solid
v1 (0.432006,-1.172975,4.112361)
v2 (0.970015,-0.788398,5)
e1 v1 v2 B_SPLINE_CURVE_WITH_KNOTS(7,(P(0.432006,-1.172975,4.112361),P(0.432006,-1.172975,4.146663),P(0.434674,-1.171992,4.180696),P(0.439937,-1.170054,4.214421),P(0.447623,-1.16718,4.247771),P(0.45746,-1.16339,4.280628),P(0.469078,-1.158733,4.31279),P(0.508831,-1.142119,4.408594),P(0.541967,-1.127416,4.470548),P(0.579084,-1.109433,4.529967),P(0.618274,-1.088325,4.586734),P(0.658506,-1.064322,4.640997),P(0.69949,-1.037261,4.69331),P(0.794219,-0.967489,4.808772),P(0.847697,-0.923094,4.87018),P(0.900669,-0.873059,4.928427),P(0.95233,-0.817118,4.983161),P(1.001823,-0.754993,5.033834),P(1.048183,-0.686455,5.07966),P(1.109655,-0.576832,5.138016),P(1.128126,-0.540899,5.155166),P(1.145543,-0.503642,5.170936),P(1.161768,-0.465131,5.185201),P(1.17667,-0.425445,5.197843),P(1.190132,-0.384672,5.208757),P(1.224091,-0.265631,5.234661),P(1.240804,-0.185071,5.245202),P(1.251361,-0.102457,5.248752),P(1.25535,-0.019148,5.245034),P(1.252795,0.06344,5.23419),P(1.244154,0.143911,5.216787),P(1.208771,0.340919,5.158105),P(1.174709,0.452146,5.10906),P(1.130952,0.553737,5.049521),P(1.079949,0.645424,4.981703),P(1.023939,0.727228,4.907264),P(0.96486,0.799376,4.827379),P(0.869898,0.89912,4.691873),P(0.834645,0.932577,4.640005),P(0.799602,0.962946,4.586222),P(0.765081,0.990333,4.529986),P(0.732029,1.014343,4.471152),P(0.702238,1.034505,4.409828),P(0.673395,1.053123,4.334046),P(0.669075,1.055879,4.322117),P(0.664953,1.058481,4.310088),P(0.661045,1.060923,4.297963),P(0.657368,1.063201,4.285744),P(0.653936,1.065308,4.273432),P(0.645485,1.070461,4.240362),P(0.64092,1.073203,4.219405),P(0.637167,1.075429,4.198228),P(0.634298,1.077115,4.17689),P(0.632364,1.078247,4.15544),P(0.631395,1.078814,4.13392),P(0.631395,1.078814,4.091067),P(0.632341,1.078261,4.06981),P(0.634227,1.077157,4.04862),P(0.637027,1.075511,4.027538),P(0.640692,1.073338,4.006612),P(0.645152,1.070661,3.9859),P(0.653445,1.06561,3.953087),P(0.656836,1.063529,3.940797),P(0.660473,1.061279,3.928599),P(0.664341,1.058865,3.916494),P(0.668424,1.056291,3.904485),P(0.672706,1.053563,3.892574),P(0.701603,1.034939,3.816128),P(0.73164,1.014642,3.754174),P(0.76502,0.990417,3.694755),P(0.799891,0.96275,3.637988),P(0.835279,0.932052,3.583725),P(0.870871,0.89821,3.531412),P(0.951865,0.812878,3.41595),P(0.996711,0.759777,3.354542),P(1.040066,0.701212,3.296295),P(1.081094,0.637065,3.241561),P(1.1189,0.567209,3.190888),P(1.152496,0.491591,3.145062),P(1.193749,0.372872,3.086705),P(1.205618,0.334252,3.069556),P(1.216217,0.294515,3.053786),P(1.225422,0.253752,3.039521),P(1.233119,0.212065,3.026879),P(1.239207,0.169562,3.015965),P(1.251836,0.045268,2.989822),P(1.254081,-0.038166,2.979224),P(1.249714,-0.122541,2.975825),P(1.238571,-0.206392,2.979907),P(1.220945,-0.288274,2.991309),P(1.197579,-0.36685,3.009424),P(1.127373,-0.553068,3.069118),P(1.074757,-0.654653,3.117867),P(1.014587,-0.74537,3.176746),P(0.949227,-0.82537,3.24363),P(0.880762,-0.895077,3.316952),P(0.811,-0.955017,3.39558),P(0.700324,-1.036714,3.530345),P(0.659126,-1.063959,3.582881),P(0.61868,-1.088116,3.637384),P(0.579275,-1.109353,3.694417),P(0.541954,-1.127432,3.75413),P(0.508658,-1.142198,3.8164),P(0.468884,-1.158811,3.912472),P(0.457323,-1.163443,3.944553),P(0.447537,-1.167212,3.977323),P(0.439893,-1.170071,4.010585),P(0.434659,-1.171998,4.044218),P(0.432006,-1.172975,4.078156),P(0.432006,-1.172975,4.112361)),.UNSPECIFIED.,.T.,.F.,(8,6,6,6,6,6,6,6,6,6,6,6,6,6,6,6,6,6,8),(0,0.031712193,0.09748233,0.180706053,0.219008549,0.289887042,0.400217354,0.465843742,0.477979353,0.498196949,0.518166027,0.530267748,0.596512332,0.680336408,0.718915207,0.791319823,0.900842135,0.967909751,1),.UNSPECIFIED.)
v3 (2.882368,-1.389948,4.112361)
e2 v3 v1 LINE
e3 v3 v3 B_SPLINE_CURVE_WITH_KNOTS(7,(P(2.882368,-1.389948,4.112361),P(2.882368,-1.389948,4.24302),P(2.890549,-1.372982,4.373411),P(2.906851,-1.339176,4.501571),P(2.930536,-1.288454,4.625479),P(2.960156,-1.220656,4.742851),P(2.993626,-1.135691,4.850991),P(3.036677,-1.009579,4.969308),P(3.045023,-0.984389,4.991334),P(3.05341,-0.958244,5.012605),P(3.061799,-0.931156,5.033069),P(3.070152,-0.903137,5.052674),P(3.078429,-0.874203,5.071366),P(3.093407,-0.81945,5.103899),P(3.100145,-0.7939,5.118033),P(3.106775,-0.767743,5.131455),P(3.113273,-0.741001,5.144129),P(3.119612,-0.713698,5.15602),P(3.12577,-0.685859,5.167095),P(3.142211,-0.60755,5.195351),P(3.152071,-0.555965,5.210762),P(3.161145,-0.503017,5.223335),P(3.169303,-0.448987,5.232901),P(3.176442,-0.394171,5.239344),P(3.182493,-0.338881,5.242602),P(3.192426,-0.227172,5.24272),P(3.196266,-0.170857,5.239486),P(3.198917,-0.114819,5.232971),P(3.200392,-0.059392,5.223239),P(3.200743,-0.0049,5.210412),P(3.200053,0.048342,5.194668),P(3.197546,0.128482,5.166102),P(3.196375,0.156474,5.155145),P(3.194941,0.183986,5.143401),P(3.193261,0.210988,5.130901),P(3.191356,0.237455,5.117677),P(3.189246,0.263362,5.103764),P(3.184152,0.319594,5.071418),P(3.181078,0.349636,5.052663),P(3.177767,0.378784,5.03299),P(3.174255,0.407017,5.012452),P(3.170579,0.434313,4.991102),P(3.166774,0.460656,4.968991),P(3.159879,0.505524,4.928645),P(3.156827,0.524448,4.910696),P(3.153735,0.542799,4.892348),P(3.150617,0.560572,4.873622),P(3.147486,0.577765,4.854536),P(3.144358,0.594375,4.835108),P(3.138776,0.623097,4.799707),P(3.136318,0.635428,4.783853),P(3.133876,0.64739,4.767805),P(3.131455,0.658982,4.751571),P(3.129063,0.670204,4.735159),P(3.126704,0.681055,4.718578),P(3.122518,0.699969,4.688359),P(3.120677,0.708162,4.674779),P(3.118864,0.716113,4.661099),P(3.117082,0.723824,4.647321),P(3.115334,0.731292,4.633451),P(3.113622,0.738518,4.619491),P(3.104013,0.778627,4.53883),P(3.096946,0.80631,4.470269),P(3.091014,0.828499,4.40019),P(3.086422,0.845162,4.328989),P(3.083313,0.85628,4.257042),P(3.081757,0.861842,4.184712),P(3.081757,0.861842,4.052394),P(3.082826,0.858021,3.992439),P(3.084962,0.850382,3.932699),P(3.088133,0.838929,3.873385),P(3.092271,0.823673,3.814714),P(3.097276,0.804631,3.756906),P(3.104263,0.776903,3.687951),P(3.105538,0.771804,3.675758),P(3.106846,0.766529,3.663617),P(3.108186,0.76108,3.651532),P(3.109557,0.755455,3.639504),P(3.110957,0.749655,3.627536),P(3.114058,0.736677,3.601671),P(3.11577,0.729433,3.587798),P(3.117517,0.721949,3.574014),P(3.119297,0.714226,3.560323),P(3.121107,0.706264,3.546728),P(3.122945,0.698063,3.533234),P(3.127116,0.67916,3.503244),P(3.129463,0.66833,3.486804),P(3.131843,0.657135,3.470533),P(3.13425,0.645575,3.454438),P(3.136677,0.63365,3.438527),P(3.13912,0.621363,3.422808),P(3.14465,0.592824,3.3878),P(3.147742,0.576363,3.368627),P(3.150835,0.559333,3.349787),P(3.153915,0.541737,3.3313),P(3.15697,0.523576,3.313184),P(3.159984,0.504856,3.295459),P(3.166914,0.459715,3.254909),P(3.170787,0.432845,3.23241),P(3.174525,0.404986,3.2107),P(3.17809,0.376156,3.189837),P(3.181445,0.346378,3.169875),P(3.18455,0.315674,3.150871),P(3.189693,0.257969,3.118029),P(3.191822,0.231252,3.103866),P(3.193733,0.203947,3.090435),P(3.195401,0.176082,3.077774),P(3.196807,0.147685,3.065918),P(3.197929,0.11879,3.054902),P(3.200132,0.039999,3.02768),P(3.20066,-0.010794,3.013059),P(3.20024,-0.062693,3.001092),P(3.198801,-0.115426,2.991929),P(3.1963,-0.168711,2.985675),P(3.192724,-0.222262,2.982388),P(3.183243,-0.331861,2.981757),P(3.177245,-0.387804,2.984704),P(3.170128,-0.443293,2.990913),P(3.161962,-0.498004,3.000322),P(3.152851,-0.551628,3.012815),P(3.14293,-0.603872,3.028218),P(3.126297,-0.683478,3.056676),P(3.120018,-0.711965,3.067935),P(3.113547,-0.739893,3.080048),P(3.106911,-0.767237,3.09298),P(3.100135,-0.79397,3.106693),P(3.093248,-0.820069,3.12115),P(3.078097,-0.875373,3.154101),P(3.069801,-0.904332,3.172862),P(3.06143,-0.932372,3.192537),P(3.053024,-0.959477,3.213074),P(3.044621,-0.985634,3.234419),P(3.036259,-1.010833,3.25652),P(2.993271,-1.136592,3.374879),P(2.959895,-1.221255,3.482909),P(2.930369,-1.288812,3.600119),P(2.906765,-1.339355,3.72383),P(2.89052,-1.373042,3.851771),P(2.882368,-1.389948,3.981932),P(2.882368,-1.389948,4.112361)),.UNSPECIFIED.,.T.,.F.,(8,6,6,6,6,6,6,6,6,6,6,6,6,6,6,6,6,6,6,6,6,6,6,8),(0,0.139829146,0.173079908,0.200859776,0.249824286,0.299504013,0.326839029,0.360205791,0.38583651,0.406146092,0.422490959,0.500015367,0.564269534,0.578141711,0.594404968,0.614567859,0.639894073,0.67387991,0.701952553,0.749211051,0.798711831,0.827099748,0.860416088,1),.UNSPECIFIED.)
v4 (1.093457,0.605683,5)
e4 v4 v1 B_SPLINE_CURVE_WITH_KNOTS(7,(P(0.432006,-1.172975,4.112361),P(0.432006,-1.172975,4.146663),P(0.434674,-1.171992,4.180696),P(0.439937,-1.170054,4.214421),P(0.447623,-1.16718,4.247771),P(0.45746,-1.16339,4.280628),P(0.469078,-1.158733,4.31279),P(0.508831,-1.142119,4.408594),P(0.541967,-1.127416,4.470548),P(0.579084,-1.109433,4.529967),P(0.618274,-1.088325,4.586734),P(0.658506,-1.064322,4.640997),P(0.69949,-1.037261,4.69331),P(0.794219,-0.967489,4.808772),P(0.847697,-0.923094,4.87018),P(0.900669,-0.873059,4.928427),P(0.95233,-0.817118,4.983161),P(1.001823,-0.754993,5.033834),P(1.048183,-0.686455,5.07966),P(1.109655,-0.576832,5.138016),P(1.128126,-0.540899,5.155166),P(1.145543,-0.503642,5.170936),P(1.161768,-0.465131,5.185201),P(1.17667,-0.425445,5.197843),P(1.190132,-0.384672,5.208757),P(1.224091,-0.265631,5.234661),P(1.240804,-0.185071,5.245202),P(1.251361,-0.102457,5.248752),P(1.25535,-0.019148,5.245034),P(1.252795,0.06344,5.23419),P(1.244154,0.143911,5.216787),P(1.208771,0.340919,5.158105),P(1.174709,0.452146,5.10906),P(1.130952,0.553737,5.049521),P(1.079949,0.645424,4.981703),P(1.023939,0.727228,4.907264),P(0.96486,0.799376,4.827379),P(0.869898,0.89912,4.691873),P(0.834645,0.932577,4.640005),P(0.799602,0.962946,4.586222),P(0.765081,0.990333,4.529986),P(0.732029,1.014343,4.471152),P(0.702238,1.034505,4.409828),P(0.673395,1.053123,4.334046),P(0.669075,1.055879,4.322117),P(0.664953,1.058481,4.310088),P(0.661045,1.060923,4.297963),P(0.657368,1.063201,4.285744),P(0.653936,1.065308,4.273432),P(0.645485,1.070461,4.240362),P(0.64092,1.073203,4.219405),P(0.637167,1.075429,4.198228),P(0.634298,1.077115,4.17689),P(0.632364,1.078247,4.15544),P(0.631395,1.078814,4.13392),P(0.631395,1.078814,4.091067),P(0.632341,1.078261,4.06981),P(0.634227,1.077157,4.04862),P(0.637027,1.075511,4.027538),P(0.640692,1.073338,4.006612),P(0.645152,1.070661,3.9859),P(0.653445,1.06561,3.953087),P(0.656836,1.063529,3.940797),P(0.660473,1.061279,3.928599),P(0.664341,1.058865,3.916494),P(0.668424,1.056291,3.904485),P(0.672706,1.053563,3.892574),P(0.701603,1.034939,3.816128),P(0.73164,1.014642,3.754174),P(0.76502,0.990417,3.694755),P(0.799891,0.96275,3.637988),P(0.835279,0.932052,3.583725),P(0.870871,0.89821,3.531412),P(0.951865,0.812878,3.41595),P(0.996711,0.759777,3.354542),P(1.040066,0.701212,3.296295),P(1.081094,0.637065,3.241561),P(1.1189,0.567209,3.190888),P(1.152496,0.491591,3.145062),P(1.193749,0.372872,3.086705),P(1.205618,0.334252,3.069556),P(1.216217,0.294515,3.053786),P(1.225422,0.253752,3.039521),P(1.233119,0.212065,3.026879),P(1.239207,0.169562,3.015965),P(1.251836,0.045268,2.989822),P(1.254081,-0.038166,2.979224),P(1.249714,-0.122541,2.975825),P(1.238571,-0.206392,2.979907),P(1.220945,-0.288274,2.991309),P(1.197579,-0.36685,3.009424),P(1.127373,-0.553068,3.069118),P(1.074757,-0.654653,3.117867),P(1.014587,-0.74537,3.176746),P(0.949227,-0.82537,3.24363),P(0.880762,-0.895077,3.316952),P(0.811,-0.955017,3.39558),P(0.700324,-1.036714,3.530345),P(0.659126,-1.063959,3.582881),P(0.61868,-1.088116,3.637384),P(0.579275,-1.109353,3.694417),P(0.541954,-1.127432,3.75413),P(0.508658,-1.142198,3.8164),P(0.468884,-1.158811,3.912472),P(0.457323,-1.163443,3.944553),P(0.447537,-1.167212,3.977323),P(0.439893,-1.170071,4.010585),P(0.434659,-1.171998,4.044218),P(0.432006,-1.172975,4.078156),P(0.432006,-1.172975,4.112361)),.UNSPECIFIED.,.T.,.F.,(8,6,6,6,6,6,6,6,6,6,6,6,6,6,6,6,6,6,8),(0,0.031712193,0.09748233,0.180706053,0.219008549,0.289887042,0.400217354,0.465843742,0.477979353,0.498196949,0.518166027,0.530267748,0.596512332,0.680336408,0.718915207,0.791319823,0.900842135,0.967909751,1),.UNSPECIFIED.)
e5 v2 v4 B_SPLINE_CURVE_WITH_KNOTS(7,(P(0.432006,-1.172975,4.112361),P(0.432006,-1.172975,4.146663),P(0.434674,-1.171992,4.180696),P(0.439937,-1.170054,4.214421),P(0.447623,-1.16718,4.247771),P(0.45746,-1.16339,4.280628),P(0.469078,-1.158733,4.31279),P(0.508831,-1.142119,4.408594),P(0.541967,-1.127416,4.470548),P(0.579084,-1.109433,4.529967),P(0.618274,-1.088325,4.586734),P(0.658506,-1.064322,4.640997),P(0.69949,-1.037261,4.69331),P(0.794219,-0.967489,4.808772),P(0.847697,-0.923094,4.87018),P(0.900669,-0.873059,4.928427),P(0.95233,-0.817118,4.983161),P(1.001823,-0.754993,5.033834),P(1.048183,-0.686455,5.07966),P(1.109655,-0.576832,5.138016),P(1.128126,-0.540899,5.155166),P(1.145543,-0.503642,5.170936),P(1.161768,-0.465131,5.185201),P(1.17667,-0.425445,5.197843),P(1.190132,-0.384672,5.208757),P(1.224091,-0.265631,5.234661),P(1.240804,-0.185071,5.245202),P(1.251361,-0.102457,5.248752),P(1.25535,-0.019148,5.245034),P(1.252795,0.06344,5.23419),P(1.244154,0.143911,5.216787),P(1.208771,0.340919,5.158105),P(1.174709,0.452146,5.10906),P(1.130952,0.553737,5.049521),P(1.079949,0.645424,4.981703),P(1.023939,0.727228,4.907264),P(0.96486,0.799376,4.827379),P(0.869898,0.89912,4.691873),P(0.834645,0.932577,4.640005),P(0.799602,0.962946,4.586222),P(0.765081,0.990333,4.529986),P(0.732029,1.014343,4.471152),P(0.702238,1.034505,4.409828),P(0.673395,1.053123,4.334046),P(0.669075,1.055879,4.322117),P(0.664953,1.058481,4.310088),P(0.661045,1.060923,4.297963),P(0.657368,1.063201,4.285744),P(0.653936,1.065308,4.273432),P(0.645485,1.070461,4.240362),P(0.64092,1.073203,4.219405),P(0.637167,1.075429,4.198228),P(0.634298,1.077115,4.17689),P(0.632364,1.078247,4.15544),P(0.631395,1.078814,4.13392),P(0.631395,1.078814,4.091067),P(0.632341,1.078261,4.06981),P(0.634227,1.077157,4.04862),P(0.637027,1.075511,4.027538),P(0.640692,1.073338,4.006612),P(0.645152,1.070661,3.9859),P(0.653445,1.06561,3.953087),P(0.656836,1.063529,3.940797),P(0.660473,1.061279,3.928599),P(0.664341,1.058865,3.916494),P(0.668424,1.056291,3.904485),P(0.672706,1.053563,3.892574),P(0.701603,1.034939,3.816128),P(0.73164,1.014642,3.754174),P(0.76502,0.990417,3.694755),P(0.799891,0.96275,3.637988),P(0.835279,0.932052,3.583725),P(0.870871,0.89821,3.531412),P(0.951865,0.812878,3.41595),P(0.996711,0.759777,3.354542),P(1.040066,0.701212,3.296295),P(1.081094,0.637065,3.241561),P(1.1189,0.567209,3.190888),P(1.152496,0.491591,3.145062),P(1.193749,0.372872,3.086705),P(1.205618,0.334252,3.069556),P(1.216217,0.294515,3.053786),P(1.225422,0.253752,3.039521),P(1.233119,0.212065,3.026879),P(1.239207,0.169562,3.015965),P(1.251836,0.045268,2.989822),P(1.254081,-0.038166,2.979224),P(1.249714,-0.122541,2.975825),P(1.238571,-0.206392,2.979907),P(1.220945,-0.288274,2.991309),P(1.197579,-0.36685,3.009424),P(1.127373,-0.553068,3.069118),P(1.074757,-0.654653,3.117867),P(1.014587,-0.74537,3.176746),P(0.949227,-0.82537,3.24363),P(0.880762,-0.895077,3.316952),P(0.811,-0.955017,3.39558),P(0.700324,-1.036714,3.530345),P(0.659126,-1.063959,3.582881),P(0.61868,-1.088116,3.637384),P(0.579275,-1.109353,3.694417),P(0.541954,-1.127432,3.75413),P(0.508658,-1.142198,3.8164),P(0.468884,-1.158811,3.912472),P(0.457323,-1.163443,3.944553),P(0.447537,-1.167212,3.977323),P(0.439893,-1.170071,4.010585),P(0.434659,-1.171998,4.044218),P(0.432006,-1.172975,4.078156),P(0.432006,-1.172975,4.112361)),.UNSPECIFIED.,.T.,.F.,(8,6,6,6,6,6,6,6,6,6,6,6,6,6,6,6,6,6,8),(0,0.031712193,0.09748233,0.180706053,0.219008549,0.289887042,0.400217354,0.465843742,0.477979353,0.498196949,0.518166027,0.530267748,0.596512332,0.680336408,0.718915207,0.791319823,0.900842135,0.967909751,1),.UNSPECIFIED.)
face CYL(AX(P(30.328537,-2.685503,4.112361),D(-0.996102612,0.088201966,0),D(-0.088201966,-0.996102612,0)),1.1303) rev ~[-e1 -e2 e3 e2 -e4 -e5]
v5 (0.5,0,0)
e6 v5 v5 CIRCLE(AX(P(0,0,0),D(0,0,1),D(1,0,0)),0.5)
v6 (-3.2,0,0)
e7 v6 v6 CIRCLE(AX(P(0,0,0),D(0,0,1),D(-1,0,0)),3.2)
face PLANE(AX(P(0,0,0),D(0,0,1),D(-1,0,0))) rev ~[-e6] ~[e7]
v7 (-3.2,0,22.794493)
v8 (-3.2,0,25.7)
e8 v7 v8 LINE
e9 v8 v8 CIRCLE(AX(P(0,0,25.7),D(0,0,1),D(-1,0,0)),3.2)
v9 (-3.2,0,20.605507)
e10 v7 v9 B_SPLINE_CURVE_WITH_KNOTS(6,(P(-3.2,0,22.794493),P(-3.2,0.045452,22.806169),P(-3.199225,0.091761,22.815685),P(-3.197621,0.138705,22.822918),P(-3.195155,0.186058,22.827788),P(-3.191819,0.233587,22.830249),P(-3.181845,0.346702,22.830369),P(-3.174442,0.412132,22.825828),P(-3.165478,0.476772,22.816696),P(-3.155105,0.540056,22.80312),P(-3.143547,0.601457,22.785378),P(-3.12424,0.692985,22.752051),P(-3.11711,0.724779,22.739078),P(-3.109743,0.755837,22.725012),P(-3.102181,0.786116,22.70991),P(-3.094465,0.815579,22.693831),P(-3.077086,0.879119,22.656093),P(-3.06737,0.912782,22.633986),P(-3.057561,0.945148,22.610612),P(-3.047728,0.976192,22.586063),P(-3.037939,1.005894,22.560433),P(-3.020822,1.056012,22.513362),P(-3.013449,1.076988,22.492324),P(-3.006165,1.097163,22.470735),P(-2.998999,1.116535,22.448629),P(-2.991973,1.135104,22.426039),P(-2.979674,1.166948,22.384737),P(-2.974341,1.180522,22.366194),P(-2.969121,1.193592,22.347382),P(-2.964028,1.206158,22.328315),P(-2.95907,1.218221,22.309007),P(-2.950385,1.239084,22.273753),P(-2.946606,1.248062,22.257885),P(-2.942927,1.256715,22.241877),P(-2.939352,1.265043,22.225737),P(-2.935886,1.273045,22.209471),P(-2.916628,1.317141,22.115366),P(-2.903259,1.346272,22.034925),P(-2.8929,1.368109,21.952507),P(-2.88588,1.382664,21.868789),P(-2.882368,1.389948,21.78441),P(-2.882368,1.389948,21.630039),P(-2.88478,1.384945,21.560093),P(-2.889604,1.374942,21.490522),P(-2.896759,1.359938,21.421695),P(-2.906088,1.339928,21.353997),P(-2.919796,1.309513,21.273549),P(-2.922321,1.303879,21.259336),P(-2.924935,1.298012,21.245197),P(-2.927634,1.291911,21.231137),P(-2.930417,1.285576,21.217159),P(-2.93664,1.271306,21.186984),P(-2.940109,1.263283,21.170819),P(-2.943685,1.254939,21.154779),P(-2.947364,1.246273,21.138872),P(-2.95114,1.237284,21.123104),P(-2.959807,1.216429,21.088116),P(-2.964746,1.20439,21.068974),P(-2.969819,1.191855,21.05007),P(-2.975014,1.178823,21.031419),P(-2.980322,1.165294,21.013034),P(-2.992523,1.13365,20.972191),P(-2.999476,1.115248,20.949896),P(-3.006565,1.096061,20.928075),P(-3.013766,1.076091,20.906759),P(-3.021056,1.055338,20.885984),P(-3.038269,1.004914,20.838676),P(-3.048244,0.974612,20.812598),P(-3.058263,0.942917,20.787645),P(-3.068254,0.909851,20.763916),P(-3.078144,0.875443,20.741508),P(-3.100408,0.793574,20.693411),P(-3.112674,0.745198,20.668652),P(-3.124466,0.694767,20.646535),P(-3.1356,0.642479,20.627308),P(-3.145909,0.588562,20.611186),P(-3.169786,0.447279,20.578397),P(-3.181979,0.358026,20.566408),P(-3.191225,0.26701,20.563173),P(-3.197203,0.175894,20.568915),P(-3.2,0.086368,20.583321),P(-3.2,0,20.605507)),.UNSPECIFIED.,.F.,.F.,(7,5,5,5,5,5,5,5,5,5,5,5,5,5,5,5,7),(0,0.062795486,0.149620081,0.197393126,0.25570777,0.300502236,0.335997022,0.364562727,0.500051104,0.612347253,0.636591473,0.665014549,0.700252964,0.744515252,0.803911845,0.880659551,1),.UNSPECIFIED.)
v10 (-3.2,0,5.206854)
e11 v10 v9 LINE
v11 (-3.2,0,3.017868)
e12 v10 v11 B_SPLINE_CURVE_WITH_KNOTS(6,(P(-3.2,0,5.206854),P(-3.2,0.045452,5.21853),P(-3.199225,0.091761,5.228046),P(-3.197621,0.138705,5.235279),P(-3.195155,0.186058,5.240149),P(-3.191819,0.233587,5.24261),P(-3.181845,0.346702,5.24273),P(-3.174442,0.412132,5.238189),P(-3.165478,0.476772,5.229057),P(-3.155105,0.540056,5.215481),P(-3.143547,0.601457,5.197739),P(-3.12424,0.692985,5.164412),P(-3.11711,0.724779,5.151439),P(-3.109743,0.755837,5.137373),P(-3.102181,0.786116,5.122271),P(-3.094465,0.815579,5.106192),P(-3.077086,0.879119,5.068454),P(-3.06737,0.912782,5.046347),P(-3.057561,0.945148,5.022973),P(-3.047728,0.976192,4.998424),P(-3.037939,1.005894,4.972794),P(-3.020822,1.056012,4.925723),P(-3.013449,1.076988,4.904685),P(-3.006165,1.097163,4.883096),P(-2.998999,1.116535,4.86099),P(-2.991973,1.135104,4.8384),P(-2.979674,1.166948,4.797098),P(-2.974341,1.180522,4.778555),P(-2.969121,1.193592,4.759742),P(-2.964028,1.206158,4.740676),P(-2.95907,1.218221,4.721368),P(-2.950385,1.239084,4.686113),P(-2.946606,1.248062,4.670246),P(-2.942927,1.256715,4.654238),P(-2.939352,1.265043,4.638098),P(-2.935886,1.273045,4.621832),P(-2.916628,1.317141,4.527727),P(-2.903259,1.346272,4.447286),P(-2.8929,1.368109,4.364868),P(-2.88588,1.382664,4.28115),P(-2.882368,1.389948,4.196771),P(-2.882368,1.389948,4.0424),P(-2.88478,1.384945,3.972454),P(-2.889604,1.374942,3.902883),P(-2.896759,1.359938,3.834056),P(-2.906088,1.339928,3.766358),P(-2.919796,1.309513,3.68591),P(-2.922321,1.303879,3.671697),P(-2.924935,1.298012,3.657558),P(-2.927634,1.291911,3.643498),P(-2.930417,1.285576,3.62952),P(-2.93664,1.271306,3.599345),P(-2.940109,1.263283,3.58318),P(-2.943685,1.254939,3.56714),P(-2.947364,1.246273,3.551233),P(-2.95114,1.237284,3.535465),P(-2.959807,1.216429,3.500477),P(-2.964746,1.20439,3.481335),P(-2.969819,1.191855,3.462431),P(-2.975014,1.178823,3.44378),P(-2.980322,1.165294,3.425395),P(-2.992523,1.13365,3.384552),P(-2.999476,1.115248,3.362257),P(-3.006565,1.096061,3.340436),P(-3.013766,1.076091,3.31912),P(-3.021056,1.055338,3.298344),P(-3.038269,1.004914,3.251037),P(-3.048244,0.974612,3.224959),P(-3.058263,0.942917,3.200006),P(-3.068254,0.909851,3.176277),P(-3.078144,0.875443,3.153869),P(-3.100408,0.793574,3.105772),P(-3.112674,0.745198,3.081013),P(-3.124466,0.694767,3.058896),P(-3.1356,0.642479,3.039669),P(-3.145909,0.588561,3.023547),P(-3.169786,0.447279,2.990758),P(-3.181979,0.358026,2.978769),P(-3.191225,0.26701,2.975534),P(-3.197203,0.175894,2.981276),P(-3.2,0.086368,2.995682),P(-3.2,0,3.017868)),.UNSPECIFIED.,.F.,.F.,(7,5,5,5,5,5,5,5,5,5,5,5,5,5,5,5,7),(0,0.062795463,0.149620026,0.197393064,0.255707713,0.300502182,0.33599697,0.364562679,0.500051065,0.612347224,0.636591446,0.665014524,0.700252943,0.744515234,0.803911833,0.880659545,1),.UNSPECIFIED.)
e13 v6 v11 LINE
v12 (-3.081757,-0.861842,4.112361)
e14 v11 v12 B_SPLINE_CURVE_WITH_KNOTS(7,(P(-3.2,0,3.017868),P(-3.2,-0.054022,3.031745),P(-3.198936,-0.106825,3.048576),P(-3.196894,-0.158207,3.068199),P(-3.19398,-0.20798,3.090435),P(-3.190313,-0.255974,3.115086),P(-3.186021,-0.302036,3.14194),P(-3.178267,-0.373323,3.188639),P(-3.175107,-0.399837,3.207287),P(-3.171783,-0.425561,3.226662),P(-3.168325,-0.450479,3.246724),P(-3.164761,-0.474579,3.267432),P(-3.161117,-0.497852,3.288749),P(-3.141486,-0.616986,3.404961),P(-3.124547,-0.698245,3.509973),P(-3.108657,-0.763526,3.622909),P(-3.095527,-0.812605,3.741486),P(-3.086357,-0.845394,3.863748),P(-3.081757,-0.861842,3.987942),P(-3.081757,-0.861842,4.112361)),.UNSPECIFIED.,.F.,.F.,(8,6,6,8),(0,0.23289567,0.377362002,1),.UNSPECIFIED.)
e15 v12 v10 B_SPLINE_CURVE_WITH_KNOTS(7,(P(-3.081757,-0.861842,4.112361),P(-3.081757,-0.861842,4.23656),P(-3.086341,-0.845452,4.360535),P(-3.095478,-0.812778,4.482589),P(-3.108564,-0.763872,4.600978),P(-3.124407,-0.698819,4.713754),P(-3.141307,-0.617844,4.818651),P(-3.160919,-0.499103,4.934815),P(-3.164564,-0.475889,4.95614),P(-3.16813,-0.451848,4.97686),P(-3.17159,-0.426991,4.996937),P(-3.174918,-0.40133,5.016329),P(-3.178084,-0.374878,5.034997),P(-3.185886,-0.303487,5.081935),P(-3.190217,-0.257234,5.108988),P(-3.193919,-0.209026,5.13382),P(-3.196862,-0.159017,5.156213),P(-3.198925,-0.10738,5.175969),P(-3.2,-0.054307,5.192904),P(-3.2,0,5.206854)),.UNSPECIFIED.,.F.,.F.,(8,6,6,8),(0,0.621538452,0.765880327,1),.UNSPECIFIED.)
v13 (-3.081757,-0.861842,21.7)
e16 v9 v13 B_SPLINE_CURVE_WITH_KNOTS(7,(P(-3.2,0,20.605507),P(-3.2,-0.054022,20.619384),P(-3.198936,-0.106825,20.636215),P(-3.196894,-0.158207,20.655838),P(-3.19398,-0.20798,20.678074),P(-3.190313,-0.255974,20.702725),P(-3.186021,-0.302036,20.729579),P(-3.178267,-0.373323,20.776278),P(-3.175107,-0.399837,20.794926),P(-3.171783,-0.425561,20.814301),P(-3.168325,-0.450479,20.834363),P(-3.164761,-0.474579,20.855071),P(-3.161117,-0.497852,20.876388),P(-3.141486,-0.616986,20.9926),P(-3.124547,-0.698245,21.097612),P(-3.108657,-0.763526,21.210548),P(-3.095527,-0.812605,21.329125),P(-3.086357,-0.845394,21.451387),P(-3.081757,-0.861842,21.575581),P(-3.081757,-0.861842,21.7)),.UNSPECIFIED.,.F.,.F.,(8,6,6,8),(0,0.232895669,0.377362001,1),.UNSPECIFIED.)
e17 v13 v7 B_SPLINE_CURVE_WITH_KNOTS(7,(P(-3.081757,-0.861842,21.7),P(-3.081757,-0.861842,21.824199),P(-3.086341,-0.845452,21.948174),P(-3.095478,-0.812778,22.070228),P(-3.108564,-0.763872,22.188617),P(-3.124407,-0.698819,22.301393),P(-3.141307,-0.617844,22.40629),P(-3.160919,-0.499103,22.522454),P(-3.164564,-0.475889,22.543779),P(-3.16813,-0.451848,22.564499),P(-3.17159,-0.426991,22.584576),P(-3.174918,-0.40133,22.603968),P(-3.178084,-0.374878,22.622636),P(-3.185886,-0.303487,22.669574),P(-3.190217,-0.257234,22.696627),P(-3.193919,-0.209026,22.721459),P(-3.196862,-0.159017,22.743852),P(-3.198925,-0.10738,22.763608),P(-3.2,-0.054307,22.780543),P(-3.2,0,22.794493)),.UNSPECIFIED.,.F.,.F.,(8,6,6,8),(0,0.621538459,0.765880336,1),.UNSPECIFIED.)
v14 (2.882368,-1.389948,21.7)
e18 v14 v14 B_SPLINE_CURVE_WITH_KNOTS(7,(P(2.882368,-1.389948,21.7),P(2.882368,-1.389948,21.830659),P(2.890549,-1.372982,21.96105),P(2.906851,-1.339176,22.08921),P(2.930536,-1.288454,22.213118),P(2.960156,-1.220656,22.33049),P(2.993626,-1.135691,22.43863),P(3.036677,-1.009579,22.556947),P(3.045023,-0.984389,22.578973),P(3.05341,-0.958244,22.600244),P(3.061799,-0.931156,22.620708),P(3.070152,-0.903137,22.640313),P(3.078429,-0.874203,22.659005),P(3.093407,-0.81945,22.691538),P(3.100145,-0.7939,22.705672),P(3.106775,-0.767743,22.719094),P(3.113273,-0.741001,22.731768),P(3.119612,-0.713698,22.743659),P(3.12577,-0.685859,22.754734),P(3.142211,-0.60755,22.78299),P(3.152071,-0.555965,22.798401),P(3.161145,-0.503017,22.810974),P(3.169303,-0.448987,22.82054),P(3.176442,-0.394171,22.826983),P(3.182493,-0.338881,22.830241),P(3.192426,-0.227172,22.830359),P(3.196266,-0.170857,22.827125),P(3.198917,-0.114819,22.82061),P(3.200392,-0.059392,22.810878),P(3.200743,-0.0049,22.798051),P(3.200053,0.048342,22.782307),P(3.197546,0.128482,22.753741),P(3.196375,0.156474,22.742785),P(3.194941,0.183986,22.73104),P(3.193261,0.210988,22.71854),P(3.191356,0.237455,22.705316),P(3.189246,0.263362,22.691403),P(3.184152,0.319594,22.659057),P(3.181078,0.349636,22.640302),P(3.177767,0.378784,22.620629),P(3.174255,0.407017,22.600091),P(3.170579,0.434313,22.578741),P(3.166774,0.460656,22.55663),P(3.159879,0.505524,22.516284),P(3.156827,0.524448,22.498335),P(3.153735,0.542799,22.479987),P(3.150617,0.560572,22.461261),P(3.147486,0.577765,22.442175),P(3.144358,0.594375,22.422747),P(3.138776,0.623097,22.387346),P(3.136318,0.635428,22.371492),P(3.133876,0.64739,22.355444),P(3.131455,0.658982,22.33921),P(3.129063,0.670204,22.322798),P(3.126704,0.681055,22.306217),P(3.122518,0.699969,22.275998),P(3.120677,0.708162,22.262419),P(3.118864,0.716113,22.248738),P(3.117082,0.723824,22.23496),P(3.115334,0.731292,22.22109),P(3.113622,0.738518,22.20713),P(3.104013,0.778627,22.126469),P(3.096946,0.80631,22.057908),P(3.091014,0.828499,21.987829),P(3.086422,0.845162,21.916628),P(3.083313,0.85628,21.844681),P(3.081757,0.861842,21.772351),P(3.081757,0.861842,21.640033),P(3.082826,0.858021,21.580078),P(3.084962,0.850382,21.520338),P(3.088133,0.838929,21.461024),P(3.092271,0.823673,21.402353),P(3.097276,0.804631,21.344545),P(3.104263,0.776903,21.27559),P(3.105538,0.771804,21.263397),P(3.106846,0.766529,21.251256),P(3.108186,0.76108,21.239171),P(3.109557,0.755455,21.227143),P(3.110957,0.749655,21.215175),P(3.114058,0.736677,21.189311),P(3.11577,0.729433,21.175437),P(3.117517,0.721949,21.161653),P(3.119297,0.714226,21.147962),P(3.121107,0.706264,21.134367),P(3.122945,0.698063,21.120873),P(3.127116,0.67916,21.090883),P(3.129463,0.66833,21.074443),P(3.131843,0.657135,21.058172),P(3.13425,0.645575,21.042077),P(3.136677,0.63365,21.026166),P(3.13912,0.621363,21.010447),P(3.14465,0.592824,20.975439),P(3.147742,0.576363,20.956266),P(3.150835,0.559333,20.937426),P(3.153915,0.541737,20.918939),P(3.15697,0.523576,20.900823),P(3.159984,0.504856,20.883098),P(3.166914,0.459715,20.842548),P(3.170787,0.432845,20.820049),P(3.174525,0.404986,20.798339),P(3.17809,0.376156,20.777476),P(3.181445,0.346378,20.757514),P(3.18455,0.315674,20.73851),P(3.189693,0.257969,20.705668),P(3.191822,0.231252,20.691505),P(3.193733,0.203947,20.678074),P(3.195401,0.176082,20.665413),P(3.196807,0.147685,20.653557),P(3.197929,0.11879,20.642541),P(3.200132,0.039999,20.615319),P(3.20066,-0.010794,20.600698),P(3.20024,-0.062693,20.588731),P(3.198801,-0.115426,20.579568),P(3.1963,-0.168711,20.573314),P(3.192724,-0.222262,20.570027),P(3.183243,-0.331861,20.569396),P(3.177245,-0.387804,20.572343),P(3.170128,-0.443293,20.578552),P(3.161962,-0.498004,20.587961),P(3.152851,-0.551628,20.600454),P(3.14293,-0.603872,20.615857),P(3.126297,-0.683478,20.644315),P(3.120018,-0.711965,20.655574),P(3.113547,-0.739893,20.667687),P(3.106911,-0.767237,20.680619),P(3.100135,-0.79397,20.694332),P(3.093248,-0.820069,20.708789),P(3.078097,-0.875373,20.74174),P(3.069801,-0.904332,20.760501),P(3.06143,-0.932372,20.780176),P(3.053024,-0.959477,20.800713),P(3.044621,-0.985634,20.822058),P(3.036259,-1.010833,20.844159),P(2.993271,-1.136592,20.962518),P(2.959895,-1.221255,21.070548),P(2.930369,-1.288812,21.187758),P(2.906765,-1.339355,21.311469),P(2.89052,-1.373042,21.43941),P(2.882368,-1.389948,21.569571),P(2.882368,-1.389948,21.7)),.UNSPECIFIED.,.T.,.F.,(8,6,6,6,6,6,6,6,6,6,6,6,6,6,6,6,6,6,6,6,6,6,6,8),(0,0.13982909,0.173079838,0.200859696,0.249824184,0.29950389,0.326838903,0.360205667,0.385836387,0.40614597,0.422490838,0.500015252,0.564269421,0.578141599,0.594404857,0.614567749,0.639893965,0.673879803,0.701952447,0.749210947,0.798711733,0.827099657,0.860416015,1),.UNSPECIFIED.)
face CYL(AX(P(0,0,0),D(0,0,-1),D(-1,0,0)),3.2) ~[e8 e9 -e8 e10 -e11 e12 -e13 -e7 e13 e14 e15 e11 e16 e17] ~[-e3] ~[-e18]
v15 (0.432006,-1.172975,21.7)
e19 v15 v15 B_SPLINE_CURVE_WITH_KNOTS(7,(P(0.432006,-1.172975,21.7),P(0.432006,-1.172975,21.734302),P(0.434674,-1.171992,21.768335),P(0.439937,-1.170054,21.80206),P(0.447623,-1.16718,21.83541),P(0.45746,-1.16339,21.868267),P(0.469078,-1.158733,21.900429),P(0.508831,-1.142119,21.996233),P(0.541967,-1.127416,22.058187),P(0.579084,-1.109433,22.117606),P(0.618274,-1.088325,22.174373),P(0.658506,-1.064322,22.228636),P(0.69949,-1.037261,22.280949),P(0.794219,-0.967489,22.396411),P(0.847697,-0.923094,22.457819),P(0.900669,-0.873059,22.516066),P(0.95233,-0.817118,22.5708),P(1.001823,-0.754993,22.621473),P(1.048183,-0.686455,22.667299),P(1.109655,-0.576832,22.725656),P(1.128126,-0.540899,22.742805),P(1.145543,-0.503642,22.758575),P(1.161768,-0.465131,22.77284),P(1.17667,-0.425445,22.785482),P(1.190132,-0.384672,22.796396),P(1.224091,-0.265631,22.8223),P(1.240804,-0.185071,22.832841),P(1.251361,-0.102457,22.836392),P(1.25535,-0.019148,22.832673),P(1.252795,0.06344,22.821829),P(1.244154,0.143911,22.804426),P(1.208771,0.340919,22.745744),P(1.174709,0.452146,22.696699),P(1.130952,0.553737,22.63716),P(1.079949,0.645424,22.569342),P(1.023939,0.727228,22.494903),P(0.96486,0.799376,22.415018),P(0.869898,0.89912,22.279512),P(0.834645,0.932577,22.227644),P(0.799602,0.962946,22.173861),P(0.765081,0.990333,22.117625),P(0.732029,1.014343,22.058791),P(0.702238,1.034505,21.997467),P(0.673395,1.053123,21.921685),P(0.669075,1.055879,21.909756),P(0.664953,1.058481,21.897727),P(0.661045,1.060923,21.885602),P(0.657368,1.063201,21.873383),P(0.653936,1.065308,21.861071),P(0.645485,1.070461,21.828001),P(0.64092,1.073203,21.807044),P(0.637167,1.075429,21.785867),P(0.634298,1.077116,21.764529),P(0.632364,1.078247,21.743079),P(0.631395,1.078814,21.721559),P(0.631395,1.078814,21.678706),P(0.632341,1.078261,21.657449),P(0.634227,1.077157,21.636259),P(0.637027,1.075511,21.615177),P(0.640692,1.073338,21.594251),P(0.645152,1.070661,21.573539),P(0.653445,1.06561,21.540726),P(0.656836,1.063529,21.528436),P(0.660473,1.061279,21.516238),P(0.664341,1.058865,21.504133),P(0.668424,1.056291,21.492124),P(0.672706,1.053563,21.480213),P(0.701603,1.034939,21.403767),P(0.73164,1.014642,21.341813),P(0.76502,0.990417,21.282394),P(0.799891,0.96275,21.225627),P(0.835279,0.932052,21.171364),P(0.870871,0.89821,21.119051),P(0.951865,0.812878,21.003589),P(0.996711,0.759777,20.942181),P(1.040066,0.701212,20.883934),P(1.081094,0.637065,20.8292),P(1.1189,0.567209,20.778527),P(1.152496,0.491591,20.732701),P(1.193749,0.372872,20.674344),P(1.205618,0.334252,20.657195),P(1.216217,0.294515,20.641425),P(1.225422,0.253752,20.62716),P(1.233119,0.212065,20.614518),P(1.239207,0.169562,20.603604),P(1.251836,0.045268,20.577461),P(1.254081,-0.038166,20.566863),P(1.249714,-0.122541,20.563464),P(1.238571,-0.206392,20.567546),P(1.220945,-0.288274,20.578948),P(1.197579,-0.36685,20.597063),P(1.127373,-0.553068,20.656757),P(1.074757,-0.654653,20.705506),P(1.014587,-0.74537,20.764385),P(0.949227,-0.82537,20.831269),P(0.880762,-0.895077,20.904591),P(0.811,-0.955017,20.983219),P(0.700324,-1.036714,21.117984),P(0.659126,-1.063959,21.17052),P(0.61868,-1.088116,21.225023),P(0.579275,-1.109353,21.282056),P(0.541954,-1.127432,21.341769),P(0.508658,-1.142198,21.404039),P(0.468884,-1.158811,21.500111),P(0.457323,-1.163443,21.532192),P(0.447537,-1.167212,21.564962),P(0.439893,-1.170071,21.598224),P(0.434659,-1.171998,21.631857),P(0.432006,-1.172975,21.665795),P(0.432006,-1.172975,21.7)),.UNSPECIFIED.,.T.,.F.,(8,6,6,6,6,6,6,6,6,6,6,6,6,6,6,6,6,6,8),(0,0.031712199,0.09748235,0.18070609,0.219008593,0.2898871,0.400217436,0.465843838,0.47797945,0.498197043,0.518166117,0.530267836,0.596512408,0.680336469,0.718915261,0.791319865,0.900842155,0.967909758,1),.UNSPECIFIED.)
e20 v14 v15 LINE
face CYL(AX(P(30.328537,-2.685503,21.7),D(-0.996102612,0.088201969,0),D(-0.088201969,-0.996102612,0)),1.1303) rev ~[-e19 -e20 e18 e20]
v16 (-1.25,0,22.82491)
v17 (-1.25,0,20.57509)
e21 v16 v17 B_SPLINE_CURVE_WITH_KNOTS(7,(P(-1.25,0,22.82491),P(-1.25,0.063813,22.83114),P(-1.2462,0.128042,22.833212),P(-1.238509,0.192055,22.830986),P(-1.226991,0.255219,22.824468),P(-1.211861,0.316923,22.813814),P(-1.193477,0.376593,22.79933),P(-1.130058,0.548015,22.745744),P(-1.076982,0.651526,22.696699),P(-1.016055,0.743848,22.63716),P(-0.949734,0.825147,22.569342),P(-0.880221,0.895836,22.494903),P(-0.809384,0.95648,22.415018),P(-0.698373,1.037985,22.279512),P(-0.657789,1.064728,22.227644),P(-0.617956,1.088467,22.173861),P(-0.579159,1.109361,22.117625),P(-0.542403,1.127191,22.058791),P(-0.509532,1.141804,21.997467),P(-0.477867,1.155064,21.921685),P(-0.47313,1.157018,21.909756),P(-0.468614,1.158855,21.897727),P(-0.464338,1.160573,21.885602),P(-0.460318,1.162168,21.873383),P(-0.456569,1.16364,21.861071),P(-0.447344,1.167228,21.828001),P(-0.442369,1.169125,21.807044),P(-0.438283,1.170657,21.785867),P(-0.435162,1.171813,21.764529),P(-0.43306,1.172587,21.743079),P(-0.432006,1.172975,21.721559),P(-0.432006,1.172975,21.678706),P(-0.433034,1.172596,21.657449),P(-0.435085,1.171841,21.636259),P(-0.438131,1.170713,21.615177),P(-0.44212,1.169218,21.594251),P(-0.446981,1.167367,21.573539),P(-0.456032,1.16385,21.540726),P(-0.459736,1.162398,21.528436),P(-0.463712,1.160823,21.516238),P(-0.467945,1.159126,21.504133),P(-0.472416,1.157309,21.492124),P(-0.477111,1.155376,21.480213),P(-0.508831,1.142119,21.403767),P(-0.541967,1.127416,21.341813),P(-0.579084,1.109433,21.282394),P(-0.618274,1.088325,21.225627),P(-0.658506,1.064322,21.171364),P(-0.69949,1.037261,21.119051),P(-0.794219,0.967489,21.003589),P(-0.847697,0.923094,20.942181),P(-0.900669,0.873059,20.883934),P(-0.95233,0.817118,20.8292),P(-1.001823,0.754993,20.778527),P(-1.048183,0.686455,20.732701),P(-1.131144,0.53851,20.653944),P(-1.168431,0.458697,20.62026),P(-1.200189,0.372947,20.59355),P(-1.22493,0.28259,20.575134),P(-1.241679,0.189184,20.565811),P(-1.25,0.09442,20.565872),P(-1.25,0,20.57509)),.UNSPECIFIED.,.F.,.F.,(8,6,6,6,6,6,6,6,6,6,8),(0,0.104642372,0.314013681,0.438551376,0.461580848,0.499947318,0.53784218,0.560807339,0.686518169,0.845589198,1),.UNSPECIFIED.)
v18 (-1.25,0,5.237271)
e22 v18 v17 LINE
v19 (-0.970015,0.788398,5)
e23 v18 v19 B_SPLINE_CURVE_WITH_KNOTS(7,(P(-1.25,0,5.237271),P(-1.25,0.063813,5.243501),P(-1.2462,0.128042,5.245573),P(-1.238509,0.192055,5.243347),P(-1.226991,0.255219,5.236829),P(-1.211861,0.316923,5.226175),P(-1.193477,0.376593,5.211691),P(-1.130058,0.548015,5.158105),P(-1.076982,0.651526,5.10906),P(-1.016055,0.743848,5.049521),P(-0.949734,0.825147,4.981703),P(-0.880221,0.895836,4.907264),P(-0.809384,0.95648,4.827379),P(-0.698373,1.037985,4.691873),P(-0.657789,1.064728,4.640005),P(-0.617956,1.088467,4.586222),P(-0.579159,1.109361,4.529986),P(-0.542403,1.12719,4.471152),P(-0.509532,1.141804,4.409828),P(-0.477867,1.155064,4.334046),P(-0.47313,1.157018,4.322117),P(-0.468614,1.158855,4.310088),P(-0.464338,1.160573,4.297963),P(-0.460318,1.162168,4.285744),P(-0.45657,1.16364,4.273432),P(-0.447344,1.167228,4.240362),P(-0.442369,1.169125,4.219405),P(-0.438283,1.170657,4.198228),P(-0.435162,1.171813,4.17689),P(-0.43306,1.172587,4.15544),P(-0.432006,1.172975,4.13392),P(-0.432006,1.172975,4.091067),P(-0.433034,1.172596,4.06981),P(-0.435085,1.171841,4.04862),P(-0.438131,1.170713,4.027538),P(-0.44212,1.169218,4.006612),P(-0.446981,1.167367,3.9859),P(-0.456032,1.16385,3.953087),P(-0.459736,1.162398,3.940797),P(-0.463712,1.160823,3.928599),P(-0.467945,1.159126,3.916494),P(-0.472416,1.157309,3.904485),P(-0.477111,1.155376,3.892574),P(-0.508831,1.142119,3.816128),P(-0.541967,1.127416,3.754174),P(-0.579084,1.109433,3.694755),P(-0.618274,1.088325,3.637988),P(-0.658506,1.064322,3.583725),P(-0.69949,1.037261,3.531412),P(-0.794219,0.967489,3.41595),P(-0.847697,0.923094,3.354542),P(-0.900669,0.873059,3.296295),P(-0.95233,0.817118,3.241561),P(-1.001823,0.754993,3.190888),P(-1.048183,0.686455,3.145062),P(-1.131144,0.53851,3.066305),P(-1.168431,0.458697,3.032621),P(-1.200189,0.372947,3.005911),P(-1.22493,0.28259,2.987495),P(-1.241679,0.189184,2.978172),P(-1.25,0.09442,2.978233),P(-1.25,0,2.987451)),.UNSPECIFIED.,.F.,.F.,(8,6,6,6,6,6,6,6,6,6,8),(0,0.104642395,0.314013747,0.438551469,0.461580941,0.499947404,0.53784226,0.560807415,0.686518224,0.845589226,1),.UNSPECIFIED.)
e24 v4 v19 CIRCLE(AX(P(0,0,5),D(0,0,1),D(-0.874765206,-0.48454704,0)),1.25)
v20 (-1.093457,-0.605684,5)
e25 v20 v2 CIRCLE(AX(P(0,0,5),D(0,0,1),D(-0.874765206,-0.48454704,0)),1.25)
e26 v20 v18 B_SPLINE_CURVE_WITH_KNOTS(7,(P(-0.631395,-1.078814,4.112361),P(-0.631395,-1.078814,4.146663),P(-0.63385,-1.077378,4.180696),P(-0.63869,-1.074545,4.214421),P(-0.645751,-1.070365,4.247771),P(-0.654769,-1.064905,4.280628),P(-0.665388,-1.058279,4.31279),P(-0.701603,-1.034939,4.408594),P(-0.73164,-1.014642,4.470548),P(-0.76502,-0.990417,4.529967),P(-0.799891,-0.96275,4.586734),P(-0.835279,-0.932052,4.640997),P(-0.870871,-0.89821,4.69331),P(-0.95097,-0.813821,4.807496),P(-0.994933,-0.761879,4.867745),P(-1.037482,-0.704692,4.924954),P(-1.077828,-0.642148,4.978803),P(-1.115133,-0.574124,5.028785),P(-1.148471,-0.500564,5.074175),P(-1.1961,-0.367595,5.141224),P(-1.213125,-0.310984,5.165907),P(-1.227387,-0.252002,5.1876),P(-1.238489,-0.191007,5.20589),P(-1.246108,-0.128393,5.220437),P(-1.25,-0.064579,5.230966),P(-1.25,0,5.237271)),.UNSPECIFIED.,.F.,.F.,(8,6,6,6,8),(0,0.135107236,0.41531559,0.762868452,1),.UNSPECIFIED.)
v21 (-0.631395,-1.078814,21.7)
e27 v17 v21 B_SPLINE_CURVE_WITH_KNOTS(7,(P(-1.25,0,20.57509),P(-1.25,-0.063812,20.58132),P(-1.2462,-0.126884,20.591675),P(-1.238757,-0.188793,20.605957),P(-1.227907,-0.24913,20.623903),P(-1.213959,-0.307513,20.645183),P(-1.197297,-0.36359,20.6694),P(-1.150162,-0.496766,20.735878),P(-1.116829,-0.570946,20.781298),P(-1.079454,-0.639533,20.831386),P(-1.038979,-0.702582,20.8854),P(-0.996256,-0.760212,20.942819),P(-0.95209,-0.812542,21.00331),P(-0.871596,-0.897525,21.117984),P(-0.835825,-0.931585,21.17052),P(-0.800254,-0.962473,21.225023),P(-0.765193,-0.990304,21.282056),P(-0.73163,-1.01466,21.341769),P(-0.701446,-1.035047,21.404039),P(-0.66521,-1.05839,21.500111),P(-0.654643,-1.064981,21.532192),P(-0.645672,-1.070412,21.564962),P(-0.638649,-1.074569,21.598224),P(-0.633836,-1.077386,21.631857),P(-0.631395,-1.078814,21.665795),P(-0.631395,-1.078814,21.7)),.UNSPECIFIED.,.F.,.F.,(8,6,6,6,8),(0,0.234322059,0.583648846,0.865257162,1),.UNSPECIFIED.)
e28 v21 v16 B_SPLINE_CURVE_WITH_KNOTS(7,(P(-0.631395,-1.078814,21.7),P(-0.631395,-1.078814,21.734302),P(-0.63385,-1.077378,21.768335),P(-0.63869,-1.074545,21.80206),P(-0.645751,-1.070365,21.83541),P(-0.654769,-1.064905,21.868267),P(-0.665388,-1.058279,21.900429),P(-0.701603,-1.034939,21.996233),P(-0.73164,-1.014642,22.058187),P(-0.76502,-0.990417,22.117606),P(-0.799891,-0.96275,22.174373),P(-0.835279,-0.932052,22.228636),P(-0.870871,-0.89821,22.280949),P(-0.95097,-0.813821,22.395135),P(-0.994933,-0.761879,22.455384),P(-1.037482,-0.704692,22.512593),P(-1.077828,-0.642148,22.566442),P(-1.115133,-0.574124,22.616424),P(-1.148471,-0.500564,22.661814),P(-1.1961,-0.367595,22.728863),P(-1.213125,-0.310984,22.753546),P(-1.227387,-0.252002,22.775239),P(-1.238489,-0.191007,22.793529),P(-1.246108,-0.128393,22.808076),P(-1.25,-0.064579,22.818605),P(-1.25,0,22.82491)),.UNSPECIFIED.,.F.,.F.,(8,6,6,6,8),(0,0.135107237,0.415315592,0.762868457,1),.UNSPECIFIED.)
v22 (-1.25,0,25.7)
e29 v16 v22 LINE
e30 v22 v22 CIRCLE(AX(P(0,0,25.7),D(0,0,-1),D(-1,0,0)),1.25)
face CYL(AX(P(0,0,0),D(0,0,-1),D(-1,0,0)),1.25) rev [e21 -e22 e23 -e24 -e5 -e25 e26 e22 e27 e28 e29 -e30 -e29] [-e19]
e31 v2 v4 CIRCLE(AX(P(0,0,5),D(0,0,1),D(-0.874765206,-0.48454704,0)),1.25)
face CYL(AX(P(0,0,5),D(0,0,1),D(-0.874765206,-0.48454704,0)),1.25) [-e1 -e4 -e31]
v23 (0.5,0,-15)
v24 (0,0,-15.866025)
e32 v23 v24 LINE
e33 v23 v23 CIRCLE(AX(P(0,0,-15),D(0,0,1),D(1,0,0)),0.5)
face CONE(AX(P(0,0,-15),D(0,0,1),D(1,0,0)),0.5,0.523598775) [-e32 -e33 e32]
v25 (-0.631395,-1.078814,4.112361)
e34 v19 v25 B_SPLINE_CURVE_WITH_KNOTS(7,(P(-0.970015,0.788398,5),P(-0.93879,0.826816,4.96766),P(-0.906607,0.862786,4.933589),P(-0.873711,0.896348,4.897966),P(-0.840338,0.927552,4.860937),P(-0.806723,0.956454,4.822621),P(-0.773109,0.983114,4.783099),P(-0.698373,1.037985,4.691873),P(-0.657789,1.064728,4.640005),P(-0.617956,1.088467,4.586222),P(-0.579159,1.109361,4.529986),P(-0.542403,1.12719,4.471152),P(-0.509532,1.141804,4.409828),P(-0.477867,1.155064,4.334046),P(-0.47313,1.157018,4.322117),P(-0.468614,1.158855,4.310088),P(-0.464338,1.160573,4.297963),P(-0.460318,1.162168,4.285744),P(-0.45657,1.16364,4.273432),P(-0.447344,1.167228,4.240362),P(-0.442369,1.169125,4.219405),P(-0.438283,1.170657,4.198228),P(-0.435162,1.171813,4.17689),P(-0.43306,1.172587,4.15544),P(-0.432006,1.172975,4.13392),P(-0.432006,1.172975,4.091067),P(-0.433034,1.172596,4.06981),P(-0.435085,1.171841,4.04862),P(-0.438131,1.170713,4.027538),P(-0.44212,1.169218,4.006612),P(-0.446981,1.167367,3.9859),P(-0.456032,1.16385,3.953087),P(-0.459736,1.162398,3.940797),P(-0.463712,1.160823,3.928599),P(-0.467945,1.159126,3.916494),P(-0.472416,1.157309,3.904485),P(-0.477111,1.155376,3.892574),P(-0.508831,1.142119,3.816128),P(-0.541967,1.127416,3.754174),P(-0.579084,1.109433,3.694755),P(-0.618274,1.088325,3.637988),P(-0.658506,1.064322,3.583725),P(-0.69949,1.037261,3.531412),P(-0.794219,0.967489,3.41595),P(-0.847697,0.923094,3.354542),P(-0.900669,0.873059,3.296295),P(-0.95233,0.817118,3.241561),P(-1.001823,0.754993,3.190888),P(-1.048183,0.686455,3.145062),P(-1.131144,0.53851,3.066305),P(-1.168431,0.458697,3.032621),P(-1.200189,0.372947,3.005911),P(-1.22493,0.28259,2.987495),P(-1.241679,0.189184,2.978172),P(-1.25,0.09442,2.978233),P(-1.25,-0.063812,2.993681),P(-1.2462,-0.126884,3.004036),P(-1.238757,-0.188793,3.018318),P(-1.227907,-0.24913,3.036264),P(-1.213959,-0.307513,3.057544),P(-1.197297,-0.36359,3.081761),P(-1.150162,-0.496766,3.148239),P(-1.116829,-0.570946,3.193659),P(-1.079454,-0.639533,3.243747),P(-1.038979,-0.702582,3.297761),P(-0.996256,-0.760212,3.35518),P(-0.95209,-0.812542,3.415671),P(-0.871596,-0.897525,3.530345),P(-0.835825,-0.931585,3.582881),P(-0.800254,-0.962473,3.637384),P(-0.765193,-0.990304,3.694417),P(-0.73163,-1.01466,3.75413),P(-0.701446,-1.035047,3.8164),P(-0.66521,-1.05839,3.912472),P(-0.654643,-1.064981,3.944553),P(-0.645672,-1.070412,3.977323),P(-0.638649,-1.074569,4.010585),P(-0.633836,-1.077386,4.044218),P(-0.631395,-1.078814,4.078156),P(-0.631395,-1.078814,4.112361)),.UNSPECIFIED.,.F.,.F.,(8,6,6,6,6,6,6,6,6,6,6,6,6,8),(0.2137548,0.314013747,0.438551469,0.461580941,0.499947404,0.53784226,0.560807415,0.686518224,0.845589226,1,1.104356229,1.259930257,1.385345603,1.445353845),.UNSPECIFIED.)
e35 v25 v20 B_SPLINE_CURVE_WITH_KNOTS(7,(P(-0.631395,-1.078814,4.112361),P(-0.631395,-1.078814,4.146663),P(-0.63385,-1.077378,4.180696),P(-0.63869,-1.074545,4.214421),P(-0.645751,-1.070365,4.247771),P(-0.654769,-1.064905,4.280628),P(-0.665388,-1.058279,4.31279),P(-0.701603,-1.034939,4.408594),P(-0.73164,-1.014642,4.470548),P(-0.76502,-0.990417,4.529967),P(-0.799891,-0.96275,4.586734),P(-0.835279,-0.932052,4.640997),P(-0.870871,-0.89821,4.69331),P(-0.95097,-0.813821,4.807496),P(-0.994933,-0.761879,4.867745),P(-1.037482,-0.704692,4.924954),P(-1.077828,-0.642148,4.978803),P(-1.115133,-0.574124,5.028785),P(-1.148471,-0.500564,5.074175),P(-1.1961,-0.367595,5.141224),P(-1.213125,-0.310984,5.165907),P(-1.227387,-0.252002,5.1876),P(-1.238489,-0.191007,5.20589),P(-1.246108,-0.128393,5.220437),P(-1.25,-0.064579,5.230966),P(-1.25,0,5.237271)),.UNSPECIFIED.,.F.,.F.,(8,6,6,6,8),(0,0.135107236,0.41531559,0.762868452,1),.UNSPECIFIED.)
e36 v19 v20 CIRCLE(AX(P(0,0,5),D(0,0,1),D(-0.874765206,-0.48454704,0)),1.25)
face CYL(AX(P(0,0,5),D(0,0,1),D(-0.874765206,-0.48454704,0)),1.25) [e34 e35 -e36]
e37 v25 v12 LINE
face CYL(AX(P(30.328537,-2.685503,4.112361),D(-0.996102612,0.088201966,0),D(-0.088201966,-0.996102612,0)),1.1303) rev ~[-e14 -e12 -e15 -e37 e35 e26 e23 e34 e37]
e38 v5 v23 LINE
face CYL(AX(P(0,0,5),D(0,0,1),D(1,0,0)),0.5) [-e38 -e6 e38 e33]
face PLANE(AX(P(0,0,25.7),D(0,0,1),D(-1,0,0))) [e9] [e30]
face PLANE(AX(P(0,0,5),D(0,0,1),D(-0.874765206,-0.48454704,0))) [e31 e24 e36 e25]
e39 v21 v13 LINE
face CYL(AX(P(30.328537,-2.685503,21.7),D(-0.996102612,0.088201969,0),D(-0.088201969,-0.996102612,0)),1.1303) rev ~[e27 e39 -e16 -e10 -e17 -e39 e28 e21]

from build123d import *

# Parameters (mm, degrees)
SKETCH3_R                           = 3.2
SKETCH3_R_2                         = 0.5
BOSS_EXTRUDE2_DEPTH                 = 25.7
CUT_EXTRUDE1_DEPTH                  = 27.095401894
CUT_EXTRUDE1_DEPTH_BACK             = 25.7
SKETCH6_R                           = 1.25
TAP_DRILL_FOR_4_40_TAP1_D           = 2.2606
TAP_DRILL_FOR_4_40_TAP1_ON_FACE_2_D = 2.2606
BOSS_EXTRUDE4_START                 = 5
SKETCH3_4_R                         = 0.5
BOSS_EXTRUDE4_DEPTH                 = 20
BOSS_EXTRUDE5_START                 = -20.7
SKETCH6_2_R                         = 1.25
SKETCH6_2_R_2                       = 0.5
BOSS_EXTRUDE5_DEPTH                 = 5


with BuildPart() as part:
    # Sketch3 → Boss-Extrude2 (new body)
    with BuildSketch(Plane.XY):
        with Locations(Location((0, 0, 0), (0, 0, 180))):
            Circle(SKETCH3_R)
        Circle(SKETCH3_R_2, mode=Mode.SUBTRACT)
    extrude(amount=BOSS_EXTRUDE2_DEPTH)

    # Sketch6 → Cut-Extrude1 (cut, two sides: drawn at the far end of the back side and taken through both)
    with BuildSketch(Plane.XY.offset(25.7).offset(-CUT_EXTRUDE1_DEPTH_BACK)):
        with Locations(Location((0, 0, 0), (0, 0, 180))):
            Circle(SKETCH6_R)
    extrude(amount=CUT_EXTRUDE1_DEPTH + CUT_EXTRUDE1_DEPTH_BACK, mode=Mode.SUBTRACT)

    # Tap Drill for #4-40 Tap1 (through all)
    with Locations(Plane(origin=(3.187528357, -0.282246299, 21.7), x_dir=(0.088201968553, 0.996102611553, 0), z_dir=(0.996102611553, -0.088201968553, 0))):
        with Locations((0, 0)):
            Hole(TAP_DRILL_FOR_4_40_TAP1_D / 2)

    # Tap Drill for #4-40 Tap1 on face 2 (through all)
    with Locations(Plane(origin=(3.187528357, -0.282246299, 4.112360987), x_dir=(0.088201965627, 0.996102611812, 0), z_dir=(0.996102611812, -0.088201965627, 0))):
        with Locations((0, 0)):
            Hole(TAP_DRILL_FOR_4_40_TAP1_ON_FACE_2_D / 2)



with BuildPart() as body_2:
    # Sketch3<4> → Boss-Extrude4 (new body)
    with BuildSketch(Plane.XY.offset(BOSS_EXTRUDE4_START)):
        Circle(SKETCH3_4_R)
    extrude(amount=-BOSS_EXTRUDE4_DEPTH)

    # Sketch9 → Revolve1 (revolve)
    with BuildSketch(Plane(origin=(0, 0, 0), x_dir=(1, 0, 0), z_dir=(0, 1, 0)), mode=Mode.PRIVATE) as revolve1_sk:
        Polygon((0, 15), (-0.5, 15), (0, 15.866025404), align=None)
    revolve(revolve1_sk.sketch.rotate(Axis((0, 0, -15), (0, 0, -1)), 180), axis=Axis((0, 0, -15), (0, 0, -1)))


with BuildPart() as part_1:
    add(part.part)

    add(body_2.part)  # Boss-Extrude5 merges body 2
    # Sketch6<2> → Boss-Extrude5 (add)
    with BuildSketch(Plane.XY.offset(25.7).offset(BOSS_EXTRUDE5_START)):
        with Locations(Location((0, 0, 0), (0, 0, 208.982799993))):
            Circle(SKETCH6_2_R)
        Circle(SKETCH6_2_R_2, mode=Mode.SUBTRACT)
    extrude(amount=-BOSS_EXTRUDE5_DEPTH)


solid = part_1.part
